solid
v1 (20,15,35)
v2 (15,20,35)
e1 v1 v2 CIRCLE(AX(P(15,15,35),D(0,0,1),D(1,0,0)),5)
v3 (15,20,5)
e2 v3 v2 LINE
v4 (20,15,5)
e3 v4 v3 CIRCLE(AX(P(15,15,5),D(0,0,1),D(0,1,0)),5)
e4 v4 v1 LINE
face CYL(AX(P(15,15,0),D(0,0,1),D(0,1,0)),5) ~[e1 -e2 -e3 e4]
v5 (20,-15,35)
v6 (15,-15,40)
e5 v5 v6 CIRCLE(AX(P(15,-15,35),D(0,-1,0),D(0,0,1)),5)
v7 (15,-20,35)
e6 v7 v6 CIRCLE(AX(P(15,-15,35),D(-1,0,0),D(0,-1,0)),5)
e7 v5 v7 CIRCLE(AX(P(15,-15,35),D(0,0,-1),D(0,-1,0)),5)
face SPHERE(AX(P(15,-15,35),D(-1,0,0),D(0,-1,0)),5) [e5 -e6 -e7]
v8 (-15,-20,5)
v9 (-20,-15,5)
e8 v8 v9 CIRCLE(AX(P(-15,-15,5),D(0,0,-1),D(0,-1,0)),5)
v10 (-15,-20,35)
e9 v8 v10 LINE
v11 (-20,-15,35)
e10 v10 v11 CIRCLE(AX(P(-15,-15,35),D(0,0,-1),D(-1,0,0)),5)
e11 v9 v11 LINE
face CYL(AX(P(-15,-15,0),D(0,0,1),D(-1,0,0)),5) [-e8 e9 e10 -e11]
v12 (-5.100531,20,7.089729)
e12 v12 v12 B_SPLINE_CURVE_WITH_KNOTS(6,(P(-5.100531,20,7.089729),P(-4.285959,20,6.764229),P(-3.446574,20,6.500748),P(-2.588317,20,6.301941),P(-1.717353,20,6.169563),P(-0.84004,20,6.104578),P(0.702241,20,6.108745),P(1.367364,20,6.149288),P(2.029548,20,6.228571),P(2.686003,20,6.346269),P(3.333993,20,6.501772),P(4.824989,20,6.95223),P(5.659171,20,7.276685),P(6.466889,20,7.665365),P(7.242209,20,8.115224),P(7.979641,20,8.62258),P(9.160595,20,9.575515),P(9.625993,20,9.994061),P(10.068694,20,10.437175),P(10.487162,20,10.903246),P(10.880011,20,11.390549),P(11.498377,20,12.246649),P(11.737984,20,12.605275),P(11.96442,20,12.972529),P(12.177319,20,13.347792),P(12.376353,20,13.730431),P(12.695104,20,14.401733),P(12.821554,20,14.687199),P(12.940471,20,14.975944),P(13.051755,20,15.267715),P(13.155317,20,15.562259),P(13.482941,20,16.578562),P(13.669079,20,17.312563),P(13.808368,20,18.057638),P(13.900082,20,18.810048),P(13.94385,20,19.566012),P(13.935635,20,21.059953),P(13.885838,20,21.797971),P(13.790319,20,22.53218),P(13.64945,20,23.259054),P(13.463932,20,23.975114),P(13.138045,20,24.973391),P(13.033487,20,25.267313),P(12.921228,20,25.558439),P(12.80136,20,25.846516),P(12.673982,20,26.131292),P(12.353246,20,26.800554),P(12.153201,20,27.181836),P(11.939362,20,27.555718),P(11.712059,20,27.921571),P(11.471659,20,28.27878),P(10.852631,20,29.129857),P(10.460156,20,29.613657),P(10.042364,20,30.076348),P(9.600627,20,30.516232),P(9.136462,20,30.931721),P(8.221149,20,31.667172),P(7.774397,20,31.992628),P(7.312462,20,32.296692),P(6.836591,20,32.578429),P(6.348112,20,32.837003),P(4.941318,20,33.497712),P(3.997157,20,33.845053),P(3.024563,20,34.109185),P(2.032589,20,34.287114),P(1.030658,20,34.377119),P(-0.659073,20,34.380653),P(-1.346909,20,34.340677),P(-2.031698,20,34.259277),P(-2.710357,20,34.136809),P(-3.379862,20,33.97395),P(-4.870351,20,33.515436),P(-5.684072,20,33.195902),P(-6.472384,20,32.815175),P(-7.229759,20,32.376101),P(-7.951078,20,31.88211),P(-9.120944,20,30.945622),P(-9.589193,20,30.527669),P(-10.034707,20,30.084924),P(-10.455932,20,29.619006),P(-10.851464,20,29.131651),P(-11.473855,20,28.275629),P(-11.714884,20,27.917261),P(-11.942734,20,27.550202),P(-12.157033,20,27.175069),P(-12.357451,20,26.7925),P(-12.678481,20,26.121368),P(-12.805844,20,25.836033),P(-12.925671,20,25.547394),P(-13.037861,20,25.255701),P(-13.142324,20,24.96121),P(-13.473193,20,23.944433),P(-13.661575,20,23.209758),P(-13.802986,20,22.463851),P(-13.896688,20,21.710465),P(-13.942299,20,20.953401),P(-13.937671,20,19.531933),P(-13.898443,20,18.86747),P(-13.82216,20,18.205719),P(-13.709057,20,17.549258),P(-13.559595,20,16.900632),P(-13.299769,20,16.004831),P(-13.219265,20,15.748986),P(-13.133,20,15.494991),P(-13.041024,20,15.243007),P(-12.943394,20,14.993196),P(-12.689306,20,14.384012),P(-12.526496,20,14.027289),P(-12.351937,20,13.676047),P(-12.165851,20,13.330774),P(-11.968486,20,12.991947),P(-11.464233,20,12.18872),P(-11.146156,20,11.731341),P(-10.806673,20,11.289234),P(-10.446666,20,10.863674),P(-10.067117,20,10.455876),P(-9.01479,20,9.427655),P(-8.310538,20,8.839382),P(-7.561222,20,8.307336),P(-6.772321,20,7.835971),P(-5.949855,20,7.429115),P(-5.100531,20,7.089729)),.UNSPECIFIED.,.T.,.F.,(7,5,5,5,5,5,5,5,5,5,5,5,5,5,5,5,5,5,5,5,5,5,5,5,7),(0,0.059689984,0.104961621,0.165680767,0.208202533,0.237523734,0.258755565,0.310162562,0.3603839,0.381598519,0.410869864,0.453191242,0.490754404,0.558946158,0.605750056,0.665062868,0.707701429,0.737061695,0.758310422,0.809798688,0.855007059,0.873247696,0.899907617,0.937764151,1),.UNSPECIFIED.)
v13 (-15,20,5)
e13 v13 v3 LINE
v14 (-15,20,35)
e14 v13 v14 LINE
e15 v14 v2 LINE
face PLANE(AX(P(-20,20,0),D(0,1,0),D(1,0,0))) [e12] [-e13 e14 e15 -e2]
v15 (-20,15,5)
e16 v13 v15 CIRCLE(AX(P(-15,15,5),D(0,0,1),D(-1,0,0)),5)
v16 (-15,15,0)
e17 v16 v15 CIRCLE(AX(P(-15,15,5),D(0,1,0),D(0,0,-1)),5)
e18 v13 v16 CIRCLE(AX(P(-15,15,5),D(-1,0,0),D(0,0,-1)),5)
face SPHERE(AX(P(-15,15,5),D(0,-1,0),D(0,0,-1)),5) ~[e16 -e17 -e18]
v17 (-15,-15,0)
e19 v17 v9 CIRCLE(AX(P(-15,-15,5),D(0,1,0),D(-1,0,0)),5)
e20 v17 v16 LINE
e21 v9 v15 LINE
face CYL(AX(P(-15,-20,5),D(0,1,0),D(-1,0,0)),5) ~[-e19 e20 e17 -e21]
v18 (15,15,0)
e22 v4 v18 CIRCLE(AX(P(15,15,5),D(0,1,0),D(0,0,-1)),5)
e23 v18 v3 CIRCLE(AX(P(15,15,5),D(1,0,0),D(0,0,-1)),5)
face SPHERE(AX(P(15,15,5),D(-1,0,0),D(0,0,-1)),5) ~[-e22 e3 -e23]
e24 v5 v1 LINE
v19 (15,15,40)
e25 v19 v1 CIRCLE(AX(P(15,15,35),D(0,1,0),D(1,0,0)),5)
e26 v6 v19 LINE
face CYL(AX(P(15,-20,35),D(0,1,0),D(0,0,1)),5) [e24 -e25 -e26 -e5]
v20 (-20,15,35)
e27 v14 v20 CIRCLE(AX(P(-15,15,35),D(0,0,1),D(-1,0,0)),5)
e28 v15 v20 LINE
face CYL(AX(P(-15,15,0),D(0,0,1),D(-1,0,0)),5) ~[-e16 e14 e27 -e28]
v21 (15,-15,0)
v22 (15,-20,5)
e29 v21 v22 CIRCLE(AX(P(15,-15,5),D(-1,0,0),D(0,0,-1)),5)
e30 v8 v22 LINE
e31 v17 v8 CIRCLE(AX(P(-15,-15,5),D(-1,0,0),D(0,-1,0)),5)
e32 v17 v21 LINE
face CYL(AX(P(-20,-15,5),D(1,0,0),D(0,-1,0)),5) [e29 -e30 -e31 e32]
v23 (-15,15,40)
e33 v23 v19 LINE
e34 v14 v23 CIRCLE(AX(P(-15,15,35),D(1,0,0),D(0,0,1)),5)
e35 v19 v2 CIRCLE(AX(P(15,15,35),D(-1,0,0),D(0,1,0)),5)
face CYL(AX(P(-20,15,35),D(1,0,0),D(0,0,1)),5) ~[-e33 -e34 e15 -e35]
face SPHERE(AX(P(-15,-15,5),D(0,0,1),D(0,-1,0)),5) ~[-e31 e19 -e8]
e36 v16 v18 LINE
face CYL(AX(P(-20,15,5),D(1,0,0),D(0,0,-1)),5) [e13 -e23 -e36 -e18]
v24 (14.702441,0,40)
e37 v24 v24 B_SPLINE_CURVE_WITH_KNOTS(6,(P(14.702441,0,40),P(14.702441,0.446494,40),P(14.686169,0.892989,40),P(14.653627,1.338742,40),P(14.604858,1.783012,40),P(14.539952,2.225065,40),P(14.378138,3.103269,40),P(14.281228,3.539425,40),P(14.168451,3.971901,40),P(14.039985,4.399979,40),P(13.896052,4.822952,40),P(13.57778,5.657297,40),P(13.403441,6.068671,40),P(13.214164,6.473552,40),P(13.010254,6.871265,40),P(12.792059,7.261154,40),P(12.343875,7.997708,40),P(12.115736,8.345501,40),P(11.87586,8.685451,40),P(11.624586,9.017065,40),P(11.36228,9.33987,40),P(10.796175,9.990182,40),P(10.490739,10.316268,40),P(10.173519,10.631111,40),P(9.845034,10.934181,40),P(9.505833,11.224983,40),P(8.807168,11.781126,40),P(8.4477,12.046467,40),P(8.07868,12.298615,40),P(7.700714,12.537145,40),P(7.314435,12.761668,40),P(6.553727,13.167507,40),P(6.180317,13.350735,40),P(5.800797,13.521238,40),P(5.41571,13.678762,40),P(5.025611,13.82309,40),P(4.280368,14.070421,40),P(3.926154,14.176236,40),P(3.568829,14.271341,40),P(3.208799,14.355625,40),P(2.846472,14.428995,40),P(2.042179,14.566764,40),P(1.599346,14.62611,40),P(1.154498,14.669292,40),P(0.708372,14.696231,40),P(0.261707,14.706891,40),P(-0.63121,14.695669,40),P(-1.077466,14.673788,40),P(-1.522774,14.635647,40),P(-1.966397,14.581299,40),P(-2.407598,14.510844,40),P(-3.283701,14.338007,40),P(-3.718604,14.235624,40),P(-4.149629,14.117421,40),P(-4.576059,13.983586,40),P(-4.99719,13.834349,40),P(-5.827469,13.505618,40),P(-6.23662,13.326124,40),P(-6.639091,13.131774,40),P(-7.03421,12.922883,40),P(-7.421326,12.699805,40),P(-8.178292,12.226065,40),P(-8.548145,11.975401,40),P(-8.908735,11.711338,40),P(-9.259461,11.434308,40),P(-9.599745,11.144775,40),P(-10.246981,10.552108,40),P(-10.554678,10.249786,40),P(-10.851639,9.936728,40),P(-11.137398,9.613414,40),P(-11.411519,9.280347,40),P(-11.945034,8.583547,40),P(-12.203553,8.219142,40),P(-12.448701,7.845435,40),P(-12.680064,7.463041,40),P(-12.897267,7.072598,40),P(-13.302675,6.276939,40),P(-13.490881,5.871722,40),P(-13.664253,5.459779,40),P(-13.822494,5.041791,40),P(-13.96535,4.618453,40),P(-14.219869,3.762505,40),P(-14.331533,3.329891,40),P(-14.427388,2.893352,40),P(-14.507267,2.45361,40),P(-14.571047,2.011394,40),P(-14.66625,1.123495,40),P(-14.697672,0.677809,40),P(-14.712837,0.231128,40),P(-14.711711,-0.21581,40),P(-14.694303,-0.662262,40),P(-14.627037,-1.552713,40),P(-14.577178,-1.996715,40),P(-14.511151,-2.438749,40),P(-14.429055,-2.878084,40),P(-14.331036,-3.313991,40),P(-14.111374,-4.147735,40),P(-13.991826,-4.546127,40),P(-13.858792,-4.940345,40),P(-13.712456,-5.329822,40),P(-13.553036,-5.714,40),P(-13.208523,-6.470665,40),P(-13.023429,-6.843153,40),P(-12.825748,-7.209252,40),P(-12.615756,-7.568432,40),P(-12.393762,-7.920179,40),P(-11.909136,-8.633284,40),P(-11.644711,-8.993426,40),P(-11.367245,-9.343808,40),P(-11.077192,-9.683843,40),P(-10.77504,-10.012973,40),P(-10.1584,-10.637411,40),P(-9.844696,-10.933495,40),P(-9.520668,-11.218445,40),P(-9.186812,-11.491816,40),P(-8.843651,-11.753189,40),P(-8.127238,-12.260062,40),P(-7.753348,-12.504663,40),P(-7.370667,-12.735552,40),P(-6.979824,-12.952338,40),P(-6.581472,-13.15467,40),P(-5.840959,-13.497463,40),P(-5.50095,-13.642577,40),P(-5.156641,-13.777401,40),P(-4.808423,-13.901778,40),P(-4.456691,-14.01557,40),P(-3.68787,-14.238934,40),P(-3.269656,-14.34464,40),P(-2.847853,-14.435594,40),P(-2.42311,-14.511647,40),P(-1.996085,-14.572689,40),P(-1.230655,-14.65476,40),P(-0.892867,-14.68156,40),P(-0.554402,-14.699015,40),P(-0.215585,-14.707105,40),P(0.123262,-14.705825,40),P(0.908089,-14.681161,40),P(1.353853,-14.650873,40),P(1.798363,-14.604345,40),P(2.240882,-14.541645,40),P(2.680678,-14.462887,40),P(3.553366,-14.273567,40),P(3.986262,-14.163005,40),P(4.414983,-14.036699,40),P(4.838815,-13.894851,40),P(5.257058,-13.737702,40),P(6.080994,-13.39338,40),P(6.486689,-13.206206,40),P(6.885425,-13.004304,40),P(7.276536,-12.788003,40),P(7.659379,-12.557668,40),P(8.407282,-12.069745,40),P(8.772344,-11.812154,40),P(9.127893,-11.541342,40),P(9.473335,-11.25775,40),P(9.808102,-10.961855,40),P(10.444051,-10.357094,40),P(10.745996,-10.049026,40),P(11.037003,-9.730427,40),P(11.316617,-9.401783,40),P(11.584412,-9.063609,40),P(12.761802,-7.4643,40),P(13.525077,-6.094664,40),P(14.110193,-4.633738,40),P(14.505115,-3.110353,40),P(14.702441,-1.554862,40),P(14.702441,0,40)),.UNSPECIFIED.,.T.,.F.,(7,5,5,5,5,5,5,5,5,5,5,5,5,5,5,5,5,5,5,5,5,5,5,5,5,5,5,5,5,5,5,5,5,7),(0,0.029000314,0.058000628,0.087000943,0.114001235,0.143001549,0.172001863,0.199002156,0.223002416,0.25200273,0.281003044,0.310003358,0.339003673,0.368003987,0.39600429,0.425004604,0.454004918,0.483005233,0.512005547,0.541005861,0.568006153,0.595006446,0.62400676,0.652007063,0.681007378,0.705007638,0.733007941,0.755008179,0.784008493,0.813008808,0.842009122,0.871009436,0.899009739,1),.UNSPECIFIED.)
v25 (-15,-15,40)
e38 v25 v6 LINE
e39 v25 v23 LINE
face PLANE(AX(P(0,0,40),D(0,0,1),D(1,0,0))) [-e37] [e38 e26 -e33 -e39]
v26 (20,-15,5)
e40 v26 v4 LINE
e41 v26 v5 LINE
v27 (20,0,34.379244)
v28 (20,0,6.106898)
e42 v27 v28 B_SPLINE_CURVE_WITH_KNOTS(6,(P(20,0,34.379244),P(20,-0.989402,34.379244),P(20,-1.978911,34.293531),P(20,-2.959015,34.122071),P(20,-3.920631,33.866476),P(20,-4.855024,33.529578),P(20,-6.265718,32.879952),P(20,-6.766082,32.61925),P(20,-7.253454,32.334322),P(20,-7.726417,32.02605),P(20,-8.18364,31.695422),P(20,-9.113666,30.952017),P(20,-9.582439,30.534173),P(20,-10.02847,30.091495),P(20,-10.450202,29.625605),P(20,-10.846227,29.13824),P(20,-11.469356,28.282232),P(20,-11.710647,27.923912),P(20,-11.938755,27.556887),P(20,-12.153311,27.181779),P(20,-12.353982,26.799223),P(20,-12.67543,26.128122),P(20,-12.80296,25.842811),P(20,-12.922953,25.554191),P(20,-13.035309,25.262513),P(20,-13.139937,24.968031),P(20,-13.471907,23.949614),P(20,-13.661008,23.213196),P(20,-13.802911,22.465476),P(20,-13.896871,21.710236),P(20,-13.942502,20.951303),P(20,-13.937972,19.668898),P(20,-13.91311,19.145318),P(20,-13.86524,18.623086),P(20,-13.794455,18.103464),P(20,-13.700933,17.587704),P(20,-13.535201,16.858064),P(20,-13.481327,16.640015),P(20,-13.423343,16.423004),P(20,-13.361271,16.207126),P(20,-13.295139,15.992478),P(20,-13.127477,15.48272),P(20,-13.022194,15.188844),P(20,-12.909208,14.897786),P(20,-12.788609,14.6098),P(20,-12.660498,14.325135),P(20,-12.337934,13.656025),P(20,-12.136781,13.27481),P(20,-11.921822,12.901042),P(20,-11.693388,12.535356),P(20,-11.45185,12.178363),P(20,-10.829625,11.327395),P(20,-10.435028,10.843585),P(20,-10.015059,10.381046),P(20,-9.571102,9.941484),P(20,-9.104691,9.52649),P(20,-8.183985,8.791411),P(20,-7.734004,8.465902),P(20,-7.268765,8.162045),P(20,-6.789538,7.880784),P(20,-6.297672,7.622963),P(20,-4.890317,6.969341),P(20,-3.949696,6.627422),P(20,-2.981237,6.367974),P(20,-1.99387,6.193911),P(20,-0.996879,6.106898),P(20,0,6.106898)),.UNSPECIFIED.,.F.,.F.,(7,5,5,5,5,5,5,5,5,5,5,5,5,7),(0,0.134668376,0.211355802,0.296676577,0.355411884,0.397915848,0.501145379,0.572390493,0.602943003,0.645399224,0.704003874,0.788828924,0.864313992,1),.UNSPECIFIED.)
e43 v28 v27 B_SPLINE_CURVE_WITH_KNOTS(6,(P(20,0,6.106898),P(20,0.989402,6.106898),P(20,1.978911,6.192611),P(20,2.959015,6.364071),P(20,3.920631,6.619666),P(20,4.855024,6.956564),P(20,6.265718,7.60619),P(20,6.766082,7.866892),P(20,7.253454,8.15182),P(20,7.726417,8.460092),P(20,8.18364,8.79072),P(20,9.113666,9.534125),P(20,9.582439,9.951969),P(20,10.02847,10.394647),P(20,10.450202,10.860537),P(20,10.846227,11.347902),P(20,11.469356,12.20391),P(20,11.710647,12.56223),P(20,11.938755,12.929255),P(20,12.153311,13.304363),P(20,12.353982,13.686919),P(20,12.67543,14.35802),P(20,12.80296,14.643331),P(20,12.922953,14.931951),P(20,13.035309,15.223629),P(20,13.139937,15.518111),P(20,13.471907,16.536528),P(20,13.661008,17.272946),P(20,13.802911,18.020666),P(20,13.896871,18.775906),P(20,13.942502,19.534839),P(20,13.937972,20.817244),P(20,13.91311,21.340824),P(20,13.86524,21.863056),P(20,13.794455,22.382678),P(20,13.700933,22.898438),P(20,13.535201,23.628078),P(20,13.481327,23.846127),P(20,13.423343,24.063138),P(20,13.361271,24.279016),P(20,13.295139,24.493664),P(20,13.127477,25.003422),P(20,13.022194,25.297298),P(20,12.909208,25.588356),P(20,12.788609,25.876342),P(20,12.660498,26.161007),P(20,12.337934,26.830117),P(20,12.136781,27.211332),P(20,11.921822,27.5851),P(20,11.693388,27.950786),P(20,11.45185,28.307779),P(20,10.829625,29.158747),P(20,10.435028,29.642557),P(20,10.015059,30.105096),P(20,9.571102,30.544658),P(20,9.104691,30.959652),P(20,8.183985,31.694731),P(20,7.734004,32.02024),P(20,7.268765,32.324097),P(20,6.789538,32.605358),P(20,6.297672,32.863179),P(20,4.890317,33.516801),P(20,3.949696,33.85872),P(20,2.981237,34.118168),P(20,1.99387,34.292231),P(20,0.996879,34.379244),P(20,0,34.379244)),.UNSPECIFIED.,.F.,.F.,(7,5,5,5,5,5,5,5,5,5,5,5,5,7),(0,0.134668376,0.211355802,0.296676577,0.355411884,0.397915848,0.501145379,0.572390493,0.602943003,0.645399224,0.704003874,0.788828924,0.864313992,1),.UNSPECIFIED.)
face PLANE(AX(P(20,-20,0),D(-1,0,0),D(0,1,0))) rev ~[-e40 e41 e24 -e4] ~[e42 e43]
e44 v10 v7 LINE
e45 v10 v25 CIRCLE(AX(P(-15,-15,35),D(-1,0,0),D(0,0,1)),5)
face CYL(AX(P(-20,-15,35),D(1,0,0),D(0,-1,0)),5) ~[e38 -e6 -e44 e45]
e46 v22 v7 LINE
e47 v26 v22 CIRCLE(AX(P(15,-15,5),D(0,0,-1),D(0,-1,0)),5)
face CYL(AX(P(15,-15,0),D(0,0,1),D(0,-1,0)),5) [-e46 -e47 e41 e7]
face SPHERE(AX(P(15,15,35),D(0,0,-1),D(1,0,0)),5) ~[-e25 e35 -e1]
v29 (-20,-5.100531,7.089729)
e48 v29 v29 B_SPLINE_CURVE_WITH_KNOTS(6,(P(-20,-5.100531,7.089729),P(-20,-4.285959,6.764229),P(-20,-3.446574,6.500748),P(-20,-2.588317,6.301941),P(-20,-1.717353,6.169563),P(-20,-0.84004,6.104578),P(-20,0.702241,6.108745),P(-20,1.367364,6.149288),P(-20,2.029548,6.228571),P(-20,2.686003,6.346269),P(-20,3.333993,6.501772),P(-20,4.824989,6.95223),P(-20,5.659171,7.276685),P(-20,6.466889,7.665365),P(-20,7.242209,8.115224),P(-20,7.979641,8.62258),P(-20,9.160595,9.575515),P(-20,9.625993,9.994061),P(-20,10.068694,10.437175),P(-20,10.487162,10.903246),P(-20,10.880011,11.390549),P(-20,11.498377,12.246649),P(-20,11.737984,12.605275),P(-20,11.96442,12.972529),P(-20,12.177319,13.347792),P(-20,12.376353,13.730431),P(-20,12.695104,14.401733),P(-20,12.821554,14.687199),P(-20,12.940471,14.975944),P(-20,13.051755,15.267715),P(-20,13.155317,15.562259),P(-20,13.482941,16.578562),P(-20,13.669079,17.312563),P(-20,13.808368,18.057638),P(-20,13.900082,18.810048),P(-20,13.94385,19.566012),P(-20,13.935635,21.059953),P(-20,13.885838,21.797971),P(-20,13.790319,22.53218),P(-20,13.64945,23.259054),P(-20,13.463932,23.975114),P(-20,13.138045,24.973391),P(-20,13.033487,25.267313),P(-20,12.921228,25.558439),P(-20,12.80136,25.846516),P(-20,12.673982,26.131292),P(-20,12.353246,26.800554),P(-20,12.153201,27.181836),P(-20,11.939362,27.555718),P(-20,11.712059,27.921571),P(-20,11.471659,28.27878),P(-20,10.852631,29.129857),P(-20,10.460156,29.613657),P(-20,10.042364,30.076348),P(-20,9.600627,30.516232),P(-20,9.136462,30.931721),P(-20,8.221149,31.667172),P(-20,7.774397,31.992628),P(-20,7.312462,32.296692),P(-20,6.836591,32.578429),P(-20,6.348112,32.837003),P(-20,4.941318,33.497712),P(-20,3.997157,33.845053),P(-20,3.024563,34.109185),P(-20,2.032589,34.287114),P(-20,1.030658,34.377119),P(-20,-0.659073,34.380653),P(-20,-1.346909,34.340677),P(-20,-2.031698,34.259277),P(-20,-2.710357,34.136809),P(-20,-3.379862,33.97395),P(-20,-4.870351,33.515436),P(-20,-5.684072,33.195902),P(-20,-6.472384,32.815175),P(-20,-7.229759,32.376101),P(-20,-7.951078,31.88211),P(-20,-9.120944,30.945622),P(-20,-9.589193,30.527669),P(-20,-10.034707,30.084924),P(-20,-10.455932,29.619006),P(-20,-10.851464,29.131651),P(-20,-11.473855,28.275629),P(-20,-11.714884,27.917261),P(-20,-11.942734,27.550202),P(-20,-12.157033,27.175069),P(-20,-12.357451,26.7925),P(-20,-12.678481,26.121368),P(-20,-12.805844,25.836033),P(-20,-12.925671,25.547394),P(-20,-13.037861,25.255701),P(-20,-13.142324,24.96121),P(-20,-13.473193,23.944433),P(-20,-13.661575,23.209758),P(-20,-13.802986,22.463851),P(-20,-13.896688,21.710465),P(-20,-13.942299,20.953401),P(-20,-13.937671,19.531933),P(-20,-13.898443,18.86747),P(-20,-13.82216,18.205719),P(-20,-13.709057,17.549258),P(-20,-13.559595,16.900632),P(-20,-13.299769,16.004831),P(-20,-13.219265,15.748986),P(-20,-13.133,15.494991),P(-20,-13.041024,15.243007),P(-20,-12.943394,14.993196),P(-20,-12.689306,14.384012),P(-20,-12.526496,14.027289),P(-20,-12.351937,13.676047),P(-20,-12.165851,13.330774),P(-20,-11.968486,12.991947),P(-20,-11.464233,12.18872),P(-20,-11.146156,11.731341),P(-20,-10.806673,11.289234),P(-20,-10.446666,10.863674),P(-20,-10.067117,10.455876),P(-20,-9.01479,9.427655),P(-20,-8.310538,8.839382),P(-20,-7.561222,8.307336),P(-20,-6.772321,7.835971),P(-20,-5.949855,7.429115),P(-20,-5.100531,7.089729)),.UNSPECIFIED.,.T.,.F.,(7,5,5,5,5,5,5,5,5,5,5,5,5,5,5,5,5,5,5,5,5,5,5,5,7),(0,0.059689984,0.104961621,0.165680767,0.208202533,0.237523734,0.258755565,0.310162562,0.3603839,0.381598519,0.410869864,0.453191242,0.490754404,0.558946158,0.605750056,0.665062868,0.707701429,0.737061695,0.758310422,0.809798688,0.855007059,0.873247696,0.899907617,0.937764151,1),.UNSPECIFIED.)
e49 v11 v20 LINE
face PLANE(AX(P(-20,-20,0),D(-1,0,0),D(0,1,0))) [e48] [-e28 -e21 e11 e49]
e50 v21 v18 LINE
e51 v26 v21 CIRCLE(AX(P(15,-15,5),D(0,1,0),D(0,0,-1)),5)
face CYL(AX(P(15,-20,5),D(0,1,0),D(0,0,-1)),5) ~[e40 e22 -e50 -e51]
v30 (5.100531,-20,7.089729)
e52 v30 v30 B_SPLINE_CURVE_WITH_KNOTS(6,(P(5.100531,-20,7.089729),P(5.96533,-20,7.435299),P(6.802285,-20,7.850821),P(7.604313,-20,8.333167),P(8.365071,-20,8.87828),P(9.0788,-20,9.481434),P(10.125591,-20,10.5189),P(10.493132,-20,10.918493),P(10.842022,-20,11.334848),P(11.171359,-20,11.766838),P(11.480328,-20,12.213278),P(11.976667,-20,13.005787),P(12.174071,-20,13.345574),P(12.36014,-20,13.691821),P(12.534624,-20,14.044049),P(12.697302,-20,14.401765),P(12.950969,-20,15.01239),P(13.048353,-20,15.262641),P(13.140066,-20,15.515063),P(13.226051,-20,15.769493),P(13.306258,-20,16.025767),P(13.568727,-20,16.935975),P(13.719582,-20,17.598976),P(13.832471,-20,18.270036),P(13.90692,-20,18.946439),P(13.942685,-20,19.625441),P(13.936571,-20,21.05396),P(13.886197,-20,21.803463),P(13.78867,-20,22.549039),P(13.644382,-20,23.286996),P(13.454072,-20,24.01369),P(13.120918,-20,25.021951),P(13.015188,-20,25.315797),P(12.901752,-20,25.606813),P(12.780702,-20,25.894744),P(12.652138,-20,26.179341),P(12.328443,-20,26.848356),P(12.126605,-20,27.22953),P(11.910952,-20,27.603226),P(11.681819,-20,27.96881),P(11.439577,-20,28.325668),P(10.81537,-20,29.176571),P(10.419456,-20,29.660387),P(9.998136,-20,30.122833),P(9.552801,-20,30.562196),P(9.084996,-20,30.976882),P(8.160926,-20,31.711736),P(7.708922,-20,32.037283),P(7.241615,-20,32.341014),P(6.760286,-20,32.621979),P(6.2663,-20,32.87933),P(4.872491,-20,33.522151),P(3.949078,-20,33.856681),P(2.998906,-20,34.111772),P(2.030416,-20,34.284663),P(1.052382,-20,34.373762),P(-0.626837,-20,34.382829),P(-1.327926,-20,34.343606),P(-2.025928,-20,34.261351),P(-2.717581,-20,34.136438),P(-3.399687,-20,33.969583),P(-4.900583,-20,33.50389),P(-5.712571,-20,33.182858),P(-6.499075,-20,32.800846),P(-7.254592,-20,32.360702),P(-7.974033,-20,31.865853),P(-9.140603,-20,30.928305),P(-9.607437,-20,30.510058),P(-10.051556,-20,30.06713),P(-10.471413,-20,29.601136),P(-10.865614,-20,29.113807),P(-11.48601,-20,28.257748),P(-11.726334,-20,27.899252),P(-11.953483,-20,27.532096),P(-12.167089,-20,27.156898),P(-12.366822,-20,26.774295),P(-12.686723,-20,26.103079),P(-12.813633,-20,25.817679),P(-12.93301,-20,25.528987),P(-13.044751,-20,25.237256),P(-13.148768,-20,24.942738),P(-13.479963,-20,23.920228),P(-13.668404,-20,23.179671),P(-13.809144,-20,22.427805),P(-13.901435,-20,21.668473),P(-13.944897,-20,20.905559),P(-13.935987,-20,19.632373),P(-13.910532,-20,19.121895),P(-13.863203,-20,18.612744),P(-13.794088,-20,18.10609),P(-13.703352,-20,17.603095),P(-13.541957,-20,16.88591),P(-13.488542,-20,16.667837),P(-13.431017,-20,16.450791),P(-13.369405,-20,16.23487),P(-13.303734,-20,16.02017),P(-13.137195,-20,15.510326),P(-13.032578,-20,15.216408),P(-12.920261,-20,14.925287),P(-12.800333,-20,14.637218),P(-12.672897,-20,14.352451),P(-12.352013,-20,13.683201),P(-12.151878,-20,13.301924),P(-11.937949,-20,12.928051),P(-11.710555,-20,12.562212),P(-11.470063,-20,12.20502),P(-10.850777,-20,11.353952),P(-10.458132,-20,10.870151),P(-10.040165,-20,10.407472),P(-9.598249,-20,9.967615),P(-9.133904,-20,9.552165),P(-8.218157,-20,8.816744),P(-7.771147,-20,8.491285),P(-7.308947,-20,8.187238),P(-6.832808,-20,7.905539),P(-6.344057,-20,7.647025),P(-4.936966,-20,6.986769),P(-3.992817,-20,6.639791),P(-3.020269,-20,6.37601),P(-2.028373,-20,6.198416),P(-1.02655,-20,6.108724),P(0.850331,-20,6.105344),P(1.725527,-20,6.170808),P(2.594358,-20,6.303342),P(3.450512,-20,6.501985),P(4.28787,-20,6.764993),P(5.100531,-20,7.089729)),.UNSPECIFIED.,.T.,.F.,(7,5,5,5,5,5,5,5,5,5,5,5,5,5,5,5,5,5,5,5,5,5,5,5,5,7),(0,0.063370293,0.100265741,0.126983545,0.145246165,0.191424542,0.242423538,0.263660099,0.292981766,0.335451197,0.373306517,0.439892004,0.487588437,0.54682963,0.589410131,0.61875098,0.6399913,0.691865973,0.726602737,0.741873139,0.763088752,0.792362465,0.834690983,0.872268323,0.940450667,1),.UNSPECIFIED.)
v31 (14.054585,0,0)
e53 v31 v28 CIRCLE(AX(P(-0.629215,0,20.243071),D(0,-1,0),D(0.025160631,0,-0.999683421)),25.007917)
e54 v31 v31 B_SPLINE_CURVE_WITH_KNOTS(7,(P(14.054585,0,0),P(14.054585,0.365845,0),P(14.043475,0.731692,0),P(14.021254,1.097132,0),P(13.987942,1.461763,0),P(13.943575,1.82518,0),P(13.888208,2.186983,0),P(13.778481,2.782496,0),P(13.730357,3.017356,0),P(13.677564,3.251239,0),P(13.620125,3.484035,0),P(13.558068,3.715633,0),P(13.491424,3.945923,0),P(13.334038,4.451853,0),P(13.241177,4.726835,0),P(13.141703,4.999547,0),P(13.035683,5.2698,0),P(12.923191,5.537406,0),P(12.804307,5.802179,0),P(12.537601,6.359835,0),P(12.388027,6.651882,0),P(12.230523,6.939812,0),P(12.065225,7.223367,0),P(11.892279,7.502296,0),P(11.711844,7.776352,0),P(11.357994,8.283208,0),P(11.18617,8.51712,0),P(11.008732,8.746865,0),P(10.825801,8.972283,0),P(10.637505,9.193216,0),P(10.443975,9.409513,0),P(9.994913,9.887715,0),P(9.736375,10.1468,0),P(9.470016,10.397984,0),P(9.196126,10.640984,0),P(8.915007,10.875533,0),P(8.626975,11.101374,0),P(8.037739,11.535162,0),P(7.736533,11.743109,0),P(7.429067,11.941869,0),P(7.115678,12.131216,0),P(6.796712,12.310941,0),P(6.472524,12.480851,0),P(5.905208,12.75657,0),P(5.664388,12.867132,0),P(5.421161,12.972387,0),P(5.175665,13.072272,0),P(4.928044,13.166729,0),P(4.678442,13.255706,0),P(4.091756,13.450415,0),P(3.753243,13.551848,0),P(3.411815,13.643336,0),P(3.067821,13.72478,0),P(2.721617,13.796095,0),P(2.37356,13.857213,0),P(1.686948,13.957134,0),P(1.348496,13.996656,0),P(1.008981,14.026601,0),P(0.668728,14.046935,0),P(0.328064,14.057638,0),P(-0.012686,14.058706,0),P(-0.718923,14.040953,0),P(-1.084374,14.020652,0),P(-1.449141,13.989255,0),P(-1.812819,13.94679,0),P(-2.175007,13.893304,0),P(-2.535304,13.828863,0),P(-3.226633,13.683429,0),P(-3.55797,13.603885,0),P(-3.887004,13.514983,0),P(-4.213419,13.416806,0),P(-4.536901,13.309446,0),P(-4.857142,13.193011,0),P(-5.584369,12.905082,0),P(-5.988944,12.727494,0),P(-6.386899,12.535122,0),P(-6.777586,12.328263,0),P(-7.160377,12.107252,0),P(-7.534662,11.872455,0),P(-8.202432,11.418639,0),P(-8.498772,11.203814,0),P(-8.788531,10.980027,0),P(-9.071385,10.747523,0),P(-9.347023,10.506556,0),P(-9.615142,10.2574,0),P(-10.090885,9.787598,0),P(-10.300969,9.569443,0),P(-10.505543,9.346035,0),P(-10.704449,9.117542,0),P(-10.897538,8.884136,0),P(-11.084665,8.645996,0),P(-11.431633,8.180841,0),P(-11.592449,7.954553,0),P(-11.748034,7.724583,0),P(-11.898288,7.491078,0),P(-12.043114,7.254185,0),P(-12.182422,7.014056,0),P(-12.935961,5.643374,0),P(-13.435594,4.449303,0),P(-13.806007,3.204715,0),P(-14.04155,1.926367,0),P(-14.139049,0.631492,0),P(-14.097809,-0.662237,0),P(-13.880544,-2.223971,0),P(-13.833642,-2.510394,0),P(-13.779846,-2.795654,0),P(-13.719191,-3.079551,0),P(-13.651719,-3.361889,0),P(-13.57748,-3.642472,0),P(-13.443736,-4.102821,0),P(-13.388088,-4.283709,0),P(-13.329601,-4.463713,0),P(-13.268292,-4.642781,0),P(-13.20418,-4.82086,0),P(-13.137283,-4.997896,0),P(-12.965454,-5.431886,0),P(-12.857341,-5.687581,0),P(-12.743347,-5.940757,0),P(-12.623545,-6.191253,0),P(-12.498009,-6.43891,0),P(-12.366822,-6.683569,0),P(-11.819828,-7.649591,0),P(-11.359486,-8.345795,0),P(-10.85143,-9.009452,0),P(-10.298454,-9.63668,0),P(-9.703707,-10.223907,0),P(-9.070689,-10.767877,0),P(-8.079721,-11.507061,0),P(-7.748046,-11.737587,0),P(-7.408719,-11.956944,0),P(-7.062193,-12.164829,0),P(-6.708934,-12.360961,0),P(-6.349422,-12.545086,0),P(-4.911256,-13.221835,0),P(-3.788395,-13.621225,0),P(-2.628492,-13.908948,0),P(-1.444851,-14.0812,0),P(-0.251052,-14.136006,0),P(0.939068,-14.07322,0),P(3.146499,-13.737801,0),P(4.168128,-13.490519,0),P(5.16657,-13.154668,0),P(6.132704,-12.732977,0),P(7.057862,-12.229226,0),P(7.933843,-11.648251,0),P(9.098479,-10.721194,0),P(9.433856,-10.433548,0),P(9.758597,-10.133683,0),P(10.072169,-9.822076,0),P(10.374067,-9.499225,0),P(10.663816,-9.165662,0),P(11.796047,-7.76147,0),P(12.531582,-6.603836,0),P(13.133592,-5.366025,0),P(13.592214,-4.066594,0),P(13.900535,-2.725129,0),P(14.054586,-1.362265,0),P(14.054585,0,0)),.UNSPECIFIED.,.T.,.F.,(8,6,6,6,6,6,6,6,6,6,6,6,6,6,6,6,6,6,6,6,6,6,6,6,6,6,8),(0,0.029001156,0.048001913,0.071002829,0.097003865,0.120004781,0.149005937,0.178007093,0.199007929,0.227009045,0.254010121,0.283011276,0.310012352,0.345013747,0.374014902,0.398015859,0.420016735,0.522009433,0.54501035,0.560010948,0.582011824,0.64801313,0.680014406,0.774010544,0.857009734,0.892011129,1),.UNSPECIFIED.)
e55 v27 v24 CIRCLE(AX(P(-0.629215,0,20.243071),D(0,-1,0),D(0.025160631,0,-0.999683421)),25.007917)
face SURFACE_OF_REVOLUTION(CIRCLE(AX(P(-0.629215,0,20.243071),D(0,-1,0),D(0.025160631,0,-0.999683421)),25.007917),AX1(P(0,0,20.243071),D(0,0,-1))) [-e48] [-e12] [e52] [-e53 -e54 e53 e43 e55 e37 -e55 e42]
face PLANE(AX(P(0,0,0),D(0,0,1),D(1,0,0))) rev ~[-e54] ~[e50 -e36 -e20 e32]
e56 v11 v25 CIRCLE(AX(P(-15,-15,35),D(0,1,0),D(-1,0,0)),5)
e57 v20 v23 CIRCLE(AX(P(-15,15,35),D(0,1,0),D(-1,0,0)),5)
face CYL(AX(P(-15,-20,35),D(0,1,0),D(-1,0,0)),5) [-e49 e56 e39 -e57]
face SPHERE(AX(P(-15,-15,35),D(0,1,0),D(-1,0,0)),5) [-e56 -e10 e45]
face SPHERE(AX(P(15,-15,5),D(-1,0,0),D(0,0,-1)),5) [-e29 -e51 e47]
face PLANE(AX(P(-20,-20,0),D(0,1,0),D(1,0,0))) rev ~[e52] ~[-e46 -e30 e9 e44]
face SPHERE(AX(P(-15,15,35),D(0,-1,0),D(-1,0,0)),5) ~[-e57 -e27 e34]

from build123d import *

# Parameters (mm, degrees)
F0_W     = 40
F0_H     = 40
F1_DEPTH = 40
F4_R     = 5


with BuildPart() as f1:
    # F0 (on Top) → F1 (new body)
    with BuildSketch(Plane.XY):
        Rectangle(F0_W, F0_H)
    extrude(amount=F1_DEPTH)

    # F2 (on Front) → F3 (revolve, cut)
    with BuildSketch(Plane.XZ):
        with BuildLine():
            ThreePointArc((0, -4.756929), (24.378702, 20.243071), (0, 45.243071))
            Line((0, 45.243071), (0, -4.756929))
        make_face()
    revolve(axis=Axis((0, 0, 20.243071), (0, 0, -1)), mode=Mode.SUBTRACT)

    # F4
    f4_edges = [f1.edges().sort_by_distance(p)[0] for p in [
        (-20, 0, 40),
        (-20, -20, 20),
        (0, -20, 40),
        (0, -20, 0),
        (-20, 0, 0),
        (0, 20, 0),
        (-20, 20, 20),
        (20, 0, 0),
        (20, 20, 20),
        (20, -20, 20),
        (20, 0, 40),
        (0, 20, 40),
    ]]
    fillet(f4_edges, radius=F4_R)


solid = f1.part
